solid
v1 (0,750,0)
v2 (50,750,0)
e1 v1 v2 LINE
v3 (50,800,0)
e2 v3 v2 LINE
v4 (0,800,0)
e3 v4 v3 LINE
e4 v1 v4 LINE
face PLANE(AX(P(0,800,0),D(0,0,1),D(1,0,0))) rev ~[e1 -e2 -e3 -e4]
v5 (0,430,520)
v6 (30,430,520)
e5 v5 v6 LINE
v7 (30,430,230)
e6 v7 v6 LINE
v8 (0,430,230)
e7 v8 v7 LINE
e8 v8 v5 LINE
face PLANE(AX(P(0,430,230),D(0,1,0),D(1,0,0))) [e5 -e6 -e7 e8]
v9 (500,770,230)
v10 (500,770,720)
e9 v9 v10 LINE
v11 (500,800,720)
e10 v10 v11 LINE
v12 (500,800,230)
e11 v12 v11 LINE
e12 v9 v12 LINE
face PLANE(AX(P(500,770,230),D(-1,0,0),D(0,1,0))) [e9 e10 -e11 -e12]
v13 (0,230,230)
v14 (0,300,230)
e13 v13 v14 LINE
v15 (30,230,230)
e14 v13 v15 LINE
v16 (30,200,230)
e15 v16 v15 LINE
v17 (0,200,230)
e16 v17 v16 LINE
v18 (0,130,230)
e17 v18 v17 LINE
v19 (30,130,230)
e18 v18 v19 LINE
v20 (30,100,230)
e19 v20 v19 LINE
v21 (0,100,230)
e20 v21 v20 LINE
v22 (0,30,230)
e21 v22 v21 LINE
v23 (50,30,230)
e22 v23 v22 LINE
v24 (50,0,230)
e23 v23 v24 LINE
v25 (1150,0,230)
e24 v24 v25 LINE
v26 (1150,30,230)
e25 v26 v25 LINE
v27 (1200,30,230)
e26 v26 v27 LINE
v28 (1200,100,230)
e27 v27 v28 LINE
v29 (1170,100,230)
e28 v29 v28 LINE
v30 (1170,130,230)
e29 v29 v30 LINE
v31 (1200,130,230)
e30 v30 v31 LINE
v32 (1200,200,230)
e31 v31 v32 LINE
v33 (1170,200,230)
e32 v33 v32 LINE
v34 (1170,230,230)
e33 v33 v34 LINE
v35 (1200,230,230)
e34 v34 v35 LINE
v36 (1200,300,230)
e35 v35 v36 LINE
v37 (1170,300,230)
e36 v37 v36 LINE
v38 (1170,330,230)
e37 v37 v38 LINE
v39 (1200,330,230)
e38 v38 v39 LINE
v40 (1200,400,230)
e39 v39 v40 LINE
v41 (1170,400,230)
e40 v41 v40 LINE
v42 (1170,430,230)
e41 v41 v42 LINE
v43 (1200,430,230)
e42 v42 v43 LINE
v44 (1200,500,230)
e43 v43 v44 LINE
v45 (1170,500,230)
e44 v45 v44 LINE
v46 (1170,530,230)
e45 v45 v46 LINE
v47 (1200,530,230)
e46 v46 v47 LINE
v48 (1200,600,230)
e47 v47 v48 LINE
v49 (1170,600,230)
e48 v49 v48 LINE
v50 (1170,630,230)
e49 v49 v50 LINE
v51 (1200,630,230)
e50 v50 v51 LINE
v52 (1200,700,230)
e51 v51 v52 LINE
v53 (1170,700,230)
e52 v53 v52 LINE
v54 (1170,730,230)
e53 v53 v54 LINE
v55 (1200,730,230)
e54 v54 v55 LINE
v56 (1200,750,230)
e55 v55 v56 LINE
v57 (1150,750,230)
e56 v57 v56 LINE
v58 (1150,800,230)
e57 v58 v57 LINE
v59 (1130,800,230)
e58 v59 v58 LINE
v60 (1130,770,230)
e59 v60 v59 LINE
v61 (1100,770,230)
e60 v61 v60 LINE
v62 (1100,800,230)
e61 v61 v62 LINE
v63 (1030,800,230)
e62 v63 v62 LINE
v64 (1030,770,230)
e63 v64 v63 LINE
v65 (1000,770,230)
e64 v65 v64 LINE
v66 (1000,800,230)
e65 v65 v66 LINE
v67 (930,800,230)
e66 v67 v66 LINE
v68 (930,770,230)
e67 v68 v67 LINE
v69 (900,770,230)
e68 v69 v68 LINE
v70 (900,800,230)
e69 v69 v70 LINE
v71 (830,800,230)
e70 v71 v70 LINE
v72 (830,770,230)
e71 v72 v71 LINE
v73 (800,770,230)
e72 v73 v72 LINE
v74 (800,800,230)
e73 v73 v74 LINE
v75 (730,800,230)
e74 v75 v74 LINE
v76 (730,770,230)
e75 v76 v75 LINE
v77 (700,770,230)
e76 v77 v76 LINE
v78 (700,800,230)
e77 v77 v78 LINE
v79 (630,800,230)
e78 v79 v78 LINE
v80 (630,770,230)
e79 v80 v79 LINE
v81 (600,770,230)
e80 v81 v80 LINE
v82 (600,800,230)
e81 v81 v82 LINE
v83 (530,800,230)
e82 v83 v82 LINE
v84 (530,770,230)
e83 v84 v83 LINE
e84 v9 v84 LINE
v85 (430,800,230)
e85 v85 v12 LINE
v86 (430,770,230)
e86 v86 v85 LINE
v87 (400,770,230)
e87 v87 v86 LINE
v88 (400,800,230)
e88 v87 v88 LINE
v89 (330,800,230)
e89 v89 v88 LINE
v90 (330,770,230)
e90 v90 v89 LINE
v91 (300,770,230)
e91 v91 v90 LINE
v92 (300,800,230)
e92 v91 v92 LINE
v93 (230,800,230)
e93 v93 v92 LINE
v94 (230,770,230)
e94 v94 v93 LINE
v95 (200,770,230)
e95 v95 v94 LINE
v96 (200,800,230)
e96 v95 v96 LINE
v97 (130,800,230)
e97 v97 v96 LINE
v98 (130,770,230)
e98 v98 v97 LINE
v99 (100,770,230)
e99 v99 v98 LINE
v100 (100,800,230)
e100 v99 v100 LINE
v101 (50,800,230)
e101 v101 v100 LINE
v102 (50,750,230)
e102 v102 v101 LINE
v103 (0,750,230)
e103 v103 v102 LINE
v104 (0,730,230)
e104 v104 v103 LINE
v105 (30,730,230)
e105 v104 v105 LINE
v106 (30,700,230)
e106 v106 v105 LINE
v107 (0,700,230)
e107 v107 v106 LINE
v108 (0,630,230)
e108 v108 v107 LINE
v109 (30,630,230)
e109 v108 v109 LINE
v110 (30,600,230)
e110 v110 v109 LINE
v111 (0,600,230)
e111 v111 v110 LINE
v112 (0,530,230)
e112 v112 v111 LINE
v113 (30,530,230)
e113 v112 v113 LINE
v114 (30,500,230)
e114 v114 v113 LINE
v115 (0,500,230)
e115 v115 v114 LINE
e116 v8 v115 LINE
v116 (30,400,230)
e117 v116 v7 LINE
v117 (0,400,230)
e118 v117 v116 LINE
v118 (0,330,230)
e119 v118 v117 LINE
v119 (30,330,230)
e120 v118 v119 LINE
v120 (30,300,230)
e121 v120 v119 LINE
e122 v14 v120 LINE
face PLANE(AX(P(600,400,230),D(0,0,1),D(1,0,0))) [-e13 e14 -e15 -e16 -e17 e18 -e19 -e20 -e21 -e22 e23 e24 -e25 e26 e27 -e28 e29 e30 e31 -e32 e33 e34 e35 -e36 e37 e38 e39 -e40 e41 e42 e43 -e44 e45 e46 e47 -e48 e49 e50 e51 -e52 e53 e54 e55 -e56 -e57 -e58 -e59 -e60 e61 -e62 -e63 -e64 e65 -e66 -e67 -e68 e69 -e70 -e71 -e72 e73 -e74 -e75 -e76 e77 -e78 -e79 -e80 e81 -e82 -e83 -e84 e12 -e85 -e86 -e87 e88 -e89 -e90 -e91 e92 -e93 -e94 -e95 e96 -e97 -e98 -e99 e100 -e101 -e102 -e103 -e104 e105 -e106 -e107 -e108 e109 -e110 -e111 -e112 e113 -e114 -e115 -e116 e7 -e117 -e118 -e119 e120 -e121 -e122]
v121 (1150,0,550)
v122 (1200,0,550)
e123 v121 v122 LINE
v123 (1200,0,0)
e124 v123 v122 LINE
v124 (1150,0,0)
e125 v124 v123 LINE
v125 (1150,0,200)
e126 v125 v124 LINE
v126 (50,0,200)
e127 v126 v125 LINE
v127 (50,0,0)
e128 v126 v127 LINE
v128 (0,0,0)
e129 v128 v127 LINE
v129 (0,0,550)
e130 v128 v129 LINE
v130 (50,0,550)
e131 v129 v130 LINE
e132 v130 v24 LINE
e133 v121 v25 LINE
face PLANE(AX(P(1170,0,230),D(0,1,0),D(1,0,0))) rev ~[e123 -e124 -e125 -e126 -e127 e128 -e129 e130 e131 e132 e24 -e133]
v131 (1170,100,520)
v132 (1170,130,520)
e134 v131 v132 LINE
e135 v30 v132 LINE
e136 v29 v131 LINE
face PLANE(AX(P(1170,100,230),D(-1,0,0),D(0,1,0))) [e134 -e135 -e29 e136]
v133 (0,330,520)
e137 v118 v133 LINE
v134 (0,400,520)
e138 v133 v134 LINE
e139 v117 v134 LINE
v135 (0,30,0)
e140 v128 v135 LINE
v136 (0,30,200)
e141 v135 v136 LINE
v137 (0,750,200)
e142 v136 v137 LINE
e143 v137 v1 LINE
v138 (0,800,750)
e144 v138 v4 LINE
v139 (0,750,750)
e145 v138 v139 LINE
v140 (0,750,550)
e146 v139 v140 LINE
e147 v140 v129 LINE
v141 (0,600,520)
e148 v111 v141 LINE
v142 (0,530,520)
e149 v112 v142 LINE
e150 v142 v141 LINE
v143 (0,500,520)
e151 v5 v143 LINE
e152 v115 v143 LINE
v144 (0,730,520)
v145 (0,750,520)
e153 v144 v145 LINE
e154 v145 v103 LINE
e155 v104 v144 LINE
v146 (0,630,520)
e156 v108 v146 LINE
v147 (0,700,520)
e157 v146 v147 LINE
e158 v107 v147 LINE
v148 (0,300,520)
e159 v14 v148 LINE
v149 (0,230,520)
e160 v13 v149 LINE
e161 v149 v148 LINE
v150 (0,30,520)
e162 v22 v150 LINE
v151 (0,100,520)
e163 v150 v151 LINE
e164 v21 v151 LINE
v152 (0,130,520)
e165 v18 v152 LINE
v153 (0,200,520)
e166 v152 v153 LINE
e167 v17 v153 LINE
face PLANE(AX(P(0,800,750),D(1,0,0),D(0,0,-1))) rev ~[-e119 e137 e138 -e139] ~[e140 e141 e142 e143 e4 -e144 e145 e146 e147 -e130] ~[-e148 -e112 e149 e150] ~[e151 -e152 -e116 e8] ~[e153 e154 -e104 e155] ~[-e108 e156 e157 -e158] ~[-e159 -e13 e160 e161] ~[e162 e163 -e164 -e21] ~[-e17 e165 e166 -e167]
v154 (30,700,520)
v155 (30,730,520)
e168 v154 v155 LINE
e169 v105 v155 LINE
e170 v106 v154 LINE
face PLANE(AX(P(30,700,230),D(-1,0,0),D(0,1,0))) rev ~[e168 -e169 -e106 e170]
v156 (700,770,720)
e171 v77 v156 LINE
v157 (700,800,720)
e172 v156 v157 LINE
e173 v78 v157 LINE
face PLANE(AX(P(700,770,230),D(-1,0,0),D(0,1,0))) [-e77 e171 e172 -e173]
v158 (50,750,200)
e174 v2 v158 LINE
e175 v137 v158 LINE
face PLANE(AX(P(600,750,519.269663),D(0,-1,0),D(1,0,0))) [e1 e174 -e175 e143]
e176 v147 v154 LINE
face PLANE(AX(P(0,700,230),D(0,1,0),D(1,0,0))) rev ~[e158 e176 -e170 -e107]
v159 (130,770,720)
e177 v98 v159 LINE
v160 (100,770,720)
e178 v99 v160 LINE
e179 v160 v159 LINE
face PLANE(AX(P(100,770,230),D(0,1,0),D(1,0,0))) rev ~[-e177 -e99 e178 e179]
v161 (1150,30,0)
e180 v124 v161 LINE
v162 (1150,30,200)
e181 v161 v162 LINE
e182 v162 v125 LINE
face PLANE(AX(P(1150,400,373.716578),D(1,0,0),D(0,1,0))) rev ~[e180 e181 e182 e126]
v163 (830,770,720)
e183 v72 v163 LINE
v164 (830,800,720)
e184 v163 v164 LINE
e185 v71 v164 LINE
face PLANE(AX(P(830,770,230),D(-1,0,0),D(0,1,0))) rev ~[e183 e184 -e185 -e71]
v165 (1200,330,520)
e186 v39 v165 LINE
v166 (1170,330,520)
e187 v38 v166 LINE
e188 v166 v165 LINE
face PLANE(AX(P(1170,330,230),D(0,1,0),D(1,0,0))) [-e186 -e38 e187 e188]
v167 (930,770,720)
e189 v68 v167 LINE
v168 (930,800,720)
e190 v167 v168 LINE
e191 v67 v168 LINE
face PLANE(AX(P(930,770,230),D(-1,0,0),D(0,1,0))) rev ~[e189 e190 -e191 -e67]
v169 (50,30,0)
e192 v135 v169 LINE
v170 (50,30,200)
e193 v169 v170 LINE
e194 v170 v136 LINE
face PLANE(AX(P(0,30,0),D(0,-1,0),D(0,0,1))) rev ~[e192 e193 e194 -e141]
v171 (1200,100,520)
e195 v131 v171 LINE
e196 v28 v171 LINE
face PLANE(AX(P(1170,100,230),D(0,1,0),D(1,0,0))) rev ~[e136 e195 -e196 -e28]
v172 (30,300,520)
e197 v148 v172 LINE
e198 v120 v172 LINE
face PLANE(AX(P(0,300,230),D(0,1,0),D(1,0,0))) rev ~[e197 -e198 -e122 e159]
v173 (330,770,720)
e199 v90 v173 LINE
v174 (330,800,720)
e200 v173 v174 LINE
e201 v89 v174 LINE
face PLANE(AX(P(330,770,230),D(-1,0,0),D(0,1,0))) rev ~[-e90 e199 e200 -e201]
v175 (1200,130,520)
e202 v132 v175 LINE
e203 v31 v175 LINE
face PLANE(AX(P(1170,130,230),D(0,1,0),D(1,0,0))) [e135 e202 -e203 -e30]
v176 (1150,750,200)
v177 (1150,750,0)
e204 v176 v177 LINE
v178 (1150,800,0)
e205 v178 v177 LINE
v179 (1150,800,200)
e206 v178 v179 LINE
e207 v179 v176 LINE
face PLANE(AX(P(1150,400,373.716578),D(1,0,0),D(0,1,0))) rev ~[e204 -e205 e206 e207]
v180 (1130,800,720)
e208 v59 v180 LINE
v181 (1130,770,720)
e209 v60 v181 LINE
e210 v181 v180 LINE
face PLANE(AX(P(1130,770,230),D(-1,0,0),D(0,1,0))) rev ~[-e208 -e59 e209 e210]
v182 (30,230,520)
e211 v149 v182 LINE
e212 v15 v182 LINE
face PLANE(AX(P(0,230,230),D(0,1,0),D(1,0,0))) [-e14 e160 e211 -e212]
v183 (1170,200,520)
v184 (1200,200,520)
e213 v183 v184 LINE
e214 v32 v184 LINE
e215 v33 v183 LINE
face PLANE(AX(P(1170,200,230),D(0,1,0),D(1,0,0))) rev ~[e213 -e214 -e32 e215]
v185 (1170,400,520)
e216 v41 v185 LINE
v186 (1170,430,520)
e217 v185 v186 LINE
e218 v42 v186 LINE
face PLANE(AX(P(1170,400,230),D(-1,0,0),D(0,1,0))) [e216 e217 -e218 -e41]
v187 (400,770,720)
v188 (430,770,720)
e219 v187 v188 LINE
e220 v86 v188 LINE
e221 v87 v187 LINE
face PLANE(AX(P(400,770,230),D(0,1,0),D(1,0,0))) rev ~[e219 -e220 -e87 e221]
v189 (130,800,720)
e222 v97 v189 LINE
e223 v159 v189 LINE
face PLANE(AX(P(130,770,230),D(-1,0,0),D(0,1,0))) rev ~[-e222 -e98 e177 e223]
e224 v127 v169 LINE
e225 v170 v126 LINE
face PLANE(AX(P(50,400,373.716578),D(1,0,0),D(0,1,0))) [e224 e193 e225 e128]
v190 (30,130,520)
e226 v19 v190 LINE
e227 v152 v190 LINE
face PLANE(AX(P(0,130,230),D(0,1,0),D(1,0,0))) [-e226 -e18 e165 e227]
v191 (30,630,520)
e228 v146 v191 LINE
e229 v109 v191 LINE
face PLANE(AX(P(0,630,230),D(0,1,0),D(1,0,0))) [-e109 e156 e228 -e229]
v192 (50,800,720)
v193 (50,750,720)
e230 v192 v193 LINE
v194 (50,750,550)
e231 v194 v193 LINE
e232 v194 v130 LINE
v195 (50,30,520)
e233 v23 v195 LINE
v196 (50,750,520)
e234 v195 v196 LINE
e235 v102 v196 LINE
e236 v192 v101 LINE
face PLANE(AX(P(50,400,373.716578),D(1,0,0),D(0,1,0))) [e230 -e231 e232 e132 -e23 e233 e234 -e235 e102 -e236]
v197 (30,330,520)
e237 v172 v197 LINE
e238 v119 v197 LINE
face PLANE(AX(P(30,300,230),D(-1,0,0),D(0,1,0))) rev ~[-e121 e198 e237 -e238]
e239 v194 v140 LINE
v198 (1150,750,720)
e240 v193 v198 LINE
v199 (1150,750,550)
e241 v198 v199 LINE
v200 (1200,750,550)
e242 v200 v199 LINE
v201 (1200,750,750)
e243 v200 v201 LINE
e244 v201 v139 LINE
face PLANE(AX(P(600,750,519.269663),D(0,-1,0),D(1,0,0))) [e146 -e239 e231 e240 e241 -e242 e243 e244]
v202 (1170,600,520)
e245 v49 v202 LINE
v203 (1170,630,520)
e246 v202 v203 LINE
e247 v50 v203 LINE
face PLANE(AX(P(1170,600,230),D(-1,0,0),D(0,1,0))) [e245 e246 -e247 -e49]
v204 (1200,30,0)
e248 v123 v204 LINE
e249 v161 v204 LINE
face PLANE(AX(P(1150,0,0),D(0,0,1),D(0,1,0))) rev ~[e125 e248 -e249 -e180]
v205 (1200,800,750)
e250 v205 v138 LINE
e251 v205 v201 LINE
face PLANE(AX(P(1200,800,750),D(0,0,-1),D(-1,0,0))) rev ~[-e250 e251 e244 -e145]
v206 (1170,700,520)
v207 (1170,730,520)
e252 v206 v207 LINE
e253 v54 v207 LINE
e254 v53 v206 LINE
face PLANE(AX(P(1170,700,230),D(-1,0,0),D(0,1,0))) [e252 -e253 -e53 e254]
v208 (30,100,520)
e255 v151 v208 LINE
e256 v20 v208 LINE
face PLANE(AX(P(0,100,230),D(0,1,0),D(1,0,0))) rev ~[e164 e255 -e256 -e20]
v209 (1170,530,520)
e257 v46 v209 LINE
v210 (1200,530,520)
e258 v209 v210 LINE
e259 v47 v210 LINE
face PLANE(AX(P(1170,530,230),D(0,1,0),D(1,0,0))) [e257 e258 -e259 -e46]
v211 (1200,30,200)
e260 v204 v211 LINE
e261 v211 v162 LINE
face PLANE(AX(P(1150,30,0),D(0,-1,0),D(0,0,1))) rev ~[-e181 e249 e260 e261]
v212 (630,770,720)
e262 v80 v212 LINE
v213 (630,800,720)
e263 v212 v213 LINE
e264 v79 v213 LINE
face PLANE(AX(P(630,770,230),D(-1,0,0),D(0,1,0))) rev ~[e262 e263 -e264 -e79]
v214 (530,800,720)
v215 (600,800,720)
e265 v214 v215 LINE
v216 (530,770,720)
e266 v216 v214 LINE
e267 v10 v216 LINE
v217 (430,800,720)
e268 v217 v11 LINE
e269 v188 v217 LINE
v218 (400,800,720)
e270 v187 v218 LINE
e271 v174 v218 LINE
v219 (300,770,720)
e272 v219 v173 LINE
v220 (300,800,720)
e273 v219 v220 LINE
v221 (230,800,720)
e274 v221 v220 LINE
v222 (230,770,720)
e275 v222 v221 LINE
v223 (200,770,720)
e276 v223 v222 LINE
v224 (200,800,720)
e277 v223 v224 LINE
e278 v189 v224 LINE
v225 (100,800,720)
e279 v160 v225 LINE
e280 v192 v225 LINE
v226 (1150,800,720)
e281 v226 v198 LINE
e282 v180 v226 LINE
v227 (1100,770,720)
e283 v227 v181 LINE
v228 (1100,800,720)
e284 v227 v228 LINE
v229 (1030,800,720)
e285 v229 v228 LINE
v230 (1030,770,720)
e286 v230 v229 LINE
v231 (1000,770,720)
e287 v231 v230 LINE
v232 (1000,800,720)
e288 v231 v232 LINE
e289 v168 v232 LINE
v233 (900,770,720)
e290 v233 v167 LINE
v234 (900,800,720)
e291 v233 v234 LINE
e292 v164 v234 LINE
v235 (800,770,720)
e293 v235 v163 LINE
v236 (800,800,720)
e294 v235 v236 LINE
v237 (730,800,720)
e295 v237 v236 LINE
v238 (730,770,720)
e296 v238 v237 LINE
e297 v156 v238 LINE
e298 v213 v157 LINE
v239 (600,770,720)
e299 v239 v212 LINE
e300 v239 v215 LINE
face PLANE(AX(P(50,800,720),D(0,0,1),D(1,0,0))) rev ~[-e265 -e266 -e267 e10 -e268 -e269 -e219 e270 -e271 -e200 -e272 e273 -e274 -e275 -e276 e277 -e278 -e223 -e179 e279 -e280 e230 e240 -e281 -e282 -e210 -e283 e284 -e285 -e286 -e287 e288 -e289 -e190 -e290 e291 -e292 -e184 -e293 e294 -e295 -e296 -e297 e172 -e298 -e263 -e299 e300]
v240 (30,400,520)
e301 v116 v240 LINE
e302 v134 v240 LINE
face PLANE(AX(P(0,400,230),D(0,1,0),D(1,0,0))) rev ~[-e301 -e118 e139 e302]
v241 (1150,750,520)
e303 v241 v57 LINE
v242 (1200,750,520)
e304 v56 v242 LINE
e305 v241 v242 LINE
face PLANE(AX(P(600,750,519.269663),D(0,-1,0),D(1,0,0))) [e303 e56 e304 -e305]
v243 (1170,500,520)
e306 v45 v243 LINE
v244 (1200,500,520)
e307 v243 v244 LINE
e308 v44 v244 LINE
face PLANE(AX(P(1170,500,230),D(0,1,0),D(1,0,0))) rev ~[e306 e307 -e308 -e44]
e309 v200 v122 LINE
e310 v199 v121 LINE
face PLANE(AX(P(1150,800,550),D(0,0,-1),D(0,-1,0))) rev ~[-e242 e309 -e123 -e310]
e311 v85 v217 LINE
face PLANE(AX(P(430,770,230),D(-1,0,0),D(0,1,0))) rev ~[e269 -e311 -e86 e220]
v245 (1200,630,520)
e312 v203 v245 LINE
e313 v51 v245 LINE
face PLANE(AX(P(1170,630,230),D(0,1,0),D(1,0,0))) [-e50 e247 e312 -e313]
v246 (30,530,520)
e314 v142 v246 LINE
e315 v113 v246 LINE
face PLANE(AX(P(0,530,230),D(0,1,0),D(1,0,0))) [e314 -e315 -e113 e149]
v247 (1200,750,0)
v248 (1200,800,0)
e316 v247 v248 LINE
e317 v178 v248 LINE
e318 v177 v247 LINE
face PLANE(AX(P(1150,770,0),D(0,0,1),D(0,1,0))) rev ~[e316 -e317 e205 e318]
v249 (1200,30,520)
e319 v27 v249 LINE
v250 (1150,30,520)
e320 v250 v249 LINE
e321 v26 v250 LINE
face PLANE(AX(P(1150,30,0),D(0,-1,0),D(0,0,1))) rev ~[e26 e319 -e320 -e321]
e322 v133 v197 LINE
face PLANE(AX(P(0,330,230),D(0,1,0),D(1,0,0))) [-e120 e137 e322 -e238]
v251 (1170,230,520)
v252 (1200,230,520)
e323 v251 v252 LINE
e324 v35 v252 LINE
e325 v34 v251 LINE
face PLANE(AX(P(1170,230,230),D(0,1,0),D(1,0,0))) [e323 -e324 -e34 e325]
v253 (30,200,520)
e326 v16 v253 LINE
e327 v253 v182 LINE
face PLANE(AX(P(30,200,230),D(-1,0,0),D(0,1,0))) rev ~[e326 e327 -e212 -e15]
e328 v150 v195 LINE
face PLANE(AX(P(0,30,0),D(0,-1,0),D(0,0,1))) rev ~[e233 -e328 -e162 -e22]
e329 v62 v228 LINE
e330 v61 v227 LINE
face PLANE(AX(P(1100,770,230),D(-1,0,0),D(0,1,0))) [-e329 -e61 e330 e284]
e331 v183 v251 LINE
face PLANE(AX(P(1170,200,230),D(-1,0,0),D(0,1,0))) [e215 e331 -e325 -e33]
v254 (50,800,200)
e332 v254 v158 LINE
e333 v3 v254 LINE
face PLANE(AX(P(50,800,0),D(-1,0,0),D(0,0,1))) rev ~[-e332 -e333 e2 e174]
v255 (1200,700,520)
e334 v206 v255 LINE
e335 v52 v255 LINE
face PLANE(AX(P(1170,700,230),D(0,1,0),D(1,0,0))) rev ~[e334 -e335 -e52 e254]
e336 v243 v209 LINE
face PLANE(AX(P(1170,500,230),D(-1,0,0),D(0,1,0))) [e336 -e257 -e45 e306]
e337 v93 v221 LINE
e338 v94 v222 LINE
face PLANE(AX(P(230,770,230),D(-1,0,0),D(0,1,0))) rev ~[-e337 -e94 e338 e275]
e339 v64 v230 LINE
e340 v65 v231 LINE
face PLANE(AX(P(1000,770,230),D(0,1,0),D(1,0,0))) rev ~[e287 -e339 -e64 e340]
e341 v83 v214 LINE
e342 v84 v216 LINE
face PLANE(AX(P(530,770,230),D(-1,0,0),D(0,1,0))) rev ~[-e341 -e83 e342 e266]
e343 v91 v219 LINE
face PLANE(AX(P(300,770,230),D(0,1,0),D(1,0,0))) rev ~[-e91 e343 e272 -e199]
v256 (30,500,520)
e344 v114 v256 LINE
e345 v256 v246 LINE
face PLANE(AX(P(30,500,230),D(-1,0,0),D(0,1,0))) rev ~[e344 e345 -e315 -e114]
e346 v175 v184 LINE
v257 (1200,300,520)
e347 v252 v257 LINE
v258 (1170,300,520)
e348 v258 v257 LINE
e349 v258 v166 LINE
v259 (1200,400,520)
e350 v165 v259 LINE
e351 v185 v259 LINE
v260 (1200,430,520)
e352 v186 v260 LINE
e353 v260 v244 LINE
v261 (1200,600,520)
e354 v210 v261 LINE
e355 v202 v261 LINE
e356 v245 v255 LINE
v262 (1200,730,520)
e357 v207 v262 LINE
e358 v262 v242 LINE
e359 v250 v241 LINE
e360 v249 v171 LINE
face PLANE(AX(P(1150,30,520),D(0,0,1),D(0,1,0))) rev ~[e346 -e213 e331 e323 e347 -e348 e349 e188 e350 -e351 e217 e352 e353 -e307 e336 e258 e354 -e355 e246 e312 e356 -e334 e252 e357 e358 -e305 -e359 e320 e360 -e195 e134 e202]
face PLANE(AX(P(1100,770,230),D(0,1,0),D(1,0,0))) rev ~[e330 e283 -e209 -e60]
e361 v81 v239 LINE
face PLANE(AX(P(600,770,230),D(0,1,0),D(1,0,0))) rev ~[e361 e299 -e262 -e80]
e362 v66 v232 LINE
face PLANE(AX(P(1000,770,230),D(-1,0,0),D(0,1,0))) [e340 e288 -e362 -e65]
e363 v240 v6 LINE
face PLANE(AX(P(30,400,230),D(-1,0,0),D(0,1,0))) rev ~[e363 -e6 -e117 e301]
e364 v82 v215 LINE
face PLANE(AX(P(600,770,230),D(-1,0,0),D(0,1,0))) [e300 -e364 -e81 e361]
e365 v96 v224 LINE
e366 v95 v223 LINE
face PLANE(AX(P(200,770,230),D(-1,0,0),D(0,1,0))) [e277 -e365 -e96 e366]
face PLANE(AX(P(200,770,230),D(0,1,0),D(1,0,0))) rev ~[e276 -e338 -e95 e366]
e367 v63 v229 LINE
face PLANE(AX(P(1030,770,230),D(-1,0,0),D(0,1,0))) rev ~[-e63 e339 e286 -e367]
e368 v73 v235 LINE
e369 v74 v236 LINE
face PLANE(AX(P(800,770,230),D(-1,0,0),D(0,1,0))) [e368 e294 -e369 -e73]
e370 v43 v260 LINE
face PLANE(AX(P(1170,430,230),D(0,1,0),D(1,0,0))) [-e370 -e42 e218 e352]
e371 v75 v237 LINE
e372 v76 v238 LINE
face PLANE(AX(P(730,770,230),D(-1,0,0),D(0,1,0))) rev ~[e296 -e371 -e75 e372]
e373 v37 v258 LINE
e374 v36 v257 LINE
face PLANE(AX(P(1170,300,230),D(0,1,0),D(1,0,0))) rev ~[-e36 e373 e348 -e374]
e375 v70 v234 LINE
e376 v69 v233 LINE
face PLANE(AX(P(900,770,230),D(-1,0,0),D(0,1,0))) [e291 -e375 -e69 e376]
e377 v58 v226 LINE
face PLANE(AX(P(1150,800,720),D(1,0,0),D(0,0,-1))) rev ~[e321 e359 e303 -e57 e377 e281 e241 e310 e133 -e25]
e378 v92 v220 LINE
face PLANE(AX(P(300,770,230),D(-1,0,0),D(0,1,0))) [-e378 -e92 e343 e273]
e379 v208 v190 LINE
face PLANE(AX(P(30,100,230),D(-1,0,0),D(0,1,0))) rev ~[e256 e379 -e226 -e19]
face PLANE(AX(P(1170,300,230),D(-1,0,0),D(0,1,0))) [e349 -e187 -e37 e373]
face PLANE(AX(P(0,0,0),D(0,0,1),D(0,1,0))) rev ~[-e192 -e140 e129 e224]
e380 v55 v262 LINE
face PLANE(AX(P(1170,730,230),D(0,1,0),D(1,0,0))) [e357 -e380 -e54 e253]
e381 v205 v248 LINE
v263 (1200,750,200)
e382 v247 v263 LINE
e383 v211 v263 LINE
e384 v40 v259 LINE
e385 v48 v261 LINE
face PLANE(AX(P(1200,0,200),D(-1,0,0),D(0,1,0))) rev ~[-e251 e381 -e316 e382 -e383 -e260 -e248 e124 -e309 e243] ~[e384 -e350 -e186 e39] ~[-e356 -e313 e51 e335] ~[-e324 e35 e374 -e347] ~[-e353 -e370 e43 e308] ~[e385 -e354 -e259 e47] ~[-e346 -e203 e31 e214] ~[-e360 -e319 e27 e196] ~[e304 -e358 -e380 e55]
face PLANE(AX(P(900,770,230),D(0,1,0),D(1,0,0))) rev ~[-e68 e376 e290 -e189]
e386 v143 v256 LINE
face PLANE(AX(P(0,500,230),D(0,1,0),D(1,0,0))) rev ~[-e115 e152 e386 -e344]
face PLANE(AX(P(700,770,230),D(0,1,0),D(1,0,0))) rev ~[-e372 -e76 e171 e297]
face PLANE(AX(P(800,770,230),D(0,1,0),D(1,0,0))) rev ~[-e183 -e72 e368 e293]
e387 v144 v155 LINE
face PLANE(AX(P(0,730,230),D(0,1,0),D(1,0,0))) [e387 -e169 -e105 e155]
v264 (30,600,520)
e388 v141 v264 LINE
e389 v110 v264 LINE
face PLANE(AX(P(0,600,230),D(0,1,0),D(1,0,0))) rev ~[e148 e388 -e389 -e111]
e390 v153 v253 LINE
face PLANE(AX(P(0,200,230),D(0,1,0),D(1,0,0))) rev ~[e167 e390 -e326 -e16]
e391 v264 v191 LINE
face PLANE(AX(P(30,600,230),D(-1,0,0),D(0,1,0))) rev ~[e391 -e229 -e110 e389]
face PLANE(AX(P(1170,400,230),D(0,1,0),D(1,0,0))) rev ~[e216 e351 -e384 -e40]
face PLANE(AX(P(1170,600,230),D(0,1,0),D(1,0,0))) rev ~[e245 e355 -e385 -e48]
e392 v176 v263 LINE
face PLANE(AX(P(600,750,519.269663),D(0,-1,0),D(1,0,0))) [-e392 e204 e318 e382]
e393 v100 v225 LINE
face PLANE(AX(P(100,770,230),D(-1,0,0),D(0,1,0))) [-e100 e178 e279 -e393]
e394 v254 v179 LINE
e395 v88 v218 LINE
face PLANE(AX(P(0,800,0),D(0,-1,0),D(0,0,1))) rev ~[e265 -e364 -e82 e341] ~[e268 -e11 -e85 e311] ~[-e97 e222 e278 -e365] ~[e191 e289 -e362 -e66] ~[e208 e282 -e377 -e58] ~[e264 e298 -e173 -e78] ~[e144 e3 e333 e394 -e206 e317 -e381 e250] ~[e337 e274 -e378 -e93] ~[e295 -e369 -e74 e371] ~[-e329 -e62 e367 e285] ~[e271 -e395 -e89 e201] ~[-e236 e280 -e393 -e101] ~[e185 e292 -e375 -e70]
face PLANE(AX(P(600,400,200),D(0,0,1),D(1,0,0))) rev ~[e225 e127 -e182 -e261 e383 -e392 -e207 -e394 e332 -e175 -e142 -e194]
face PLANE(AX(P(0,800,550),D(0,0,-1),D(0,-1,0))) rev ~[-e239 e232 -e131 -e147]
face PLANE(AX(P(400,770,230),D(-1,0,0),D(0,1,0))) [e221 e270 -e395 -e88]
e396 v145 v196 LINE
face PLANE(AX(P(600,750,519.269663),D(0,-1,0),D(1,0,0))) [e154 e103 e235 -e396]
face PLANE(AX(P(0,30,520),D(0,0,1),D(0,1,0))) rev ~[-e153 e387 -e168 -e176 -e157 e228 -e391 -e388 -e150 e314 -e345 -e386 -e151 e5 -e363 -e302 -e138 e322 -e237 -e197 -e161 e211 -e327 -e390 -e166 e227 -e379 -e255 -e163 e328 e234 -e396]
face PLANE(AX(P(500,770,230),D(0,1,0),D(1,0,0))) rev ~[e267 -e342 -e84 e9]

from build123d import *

# Parameters (mm, degrees)
EXTRUDE_DEPTH    = 50
SKETCH001_W      = 1200
SKETCH001_H      = 800
EXTRUDE001_DEPTH = 30
EXTRUDE002_DEPTH = 50
SKETCH003_W      = 30
SKETCH003_H      = 30
EXTRUDE003_DEPTH = 290
ARRAY_Y_COUNT    = 8
ARRAY_Y_PITCH    = 100
EXTRUDE004_DEPTH = 490
ARRAY001_X_COUNT = 12
ARRAY001_X_PITCH = 100


with BuildPart() as extrude_body:
    # Sketch → Extrude (new body)
    with BuildSketch(Plane.YZ):
        Polygon((0, 0), (30, 0), (30, 520), (770, 520), (770, 0), (800, 0), (800, 550), (0, 550), align=None)
    extrude(amount=EXTRUDE_DEPTH)


with BuildPart() as extrude004:
    # Sketch001 → Extrude001 (new body)
    with BuildSketch(Plane.XY):
        with Locations((600, 400)):
            Rectangle(SKETCH001_W, SKETCH001_H)
    extrude(amount=EXTRUDE001_DEPTH)


with BuildPart() as extrude004_1:
    # Extrude001 placement: moved
    add(extrude004.part.moved(Location((0, 0, 200))))


with BuildPart() as extrude002:
    # Sketch002 → Extrude002 (new body)
    with BuildSketch(Plane.XZ):
        Polygon((0, 0), (50, 0), (50, 720), (1150, 720), (1150, 0), (1200, 0), (1200, 750), (0, 750), align=None)
    extrude(amount=EXTRUDE002_DEPTH)


with BuildPart() as extrude002_1:
    # Extrude002 placement: moved
    add(extrude002.part.moved(Location((0, 800, 0))))


with BuildPart() as array:
    # Sketch003 → Extrude003 (new body)
    with BuildSketch(Plane.XY):
        with Locations((15, 15)):
            Rectangle(SKETCH003_W, SKETCH003_H)
    extrude(amount=EXTRUDE003_DEPTH)

    # Array Y: Array ×8


with BuildPart() as array_1:
    add(array.part)
    with Locations(*[(0, i * ARRAY_Y_PITCH, 0) for i in range(1, ARRAY_Y_COUNT)]):
        add(array.part)


with BuildPart() as array_2:
    # Array placement: moved
    add(array_1.part.moved(Location((0, 0, 230))))


with BuildPart() as array001:
    # Clone001 base: copy of Array
    add(array_2.part)


with BuildPart() as array001_1:
    # Clone001 placement: moved
    add(array001.part.moved(Location((1170, 0, 0))))


with BuildPart() as array002:
    # Sketch003 → Extrude004 (new body)
    with BuildSketch(Plane.XY):
        with Locations((15, 15)):
            Rectangle(SKETCH003_W, SKETCH003_H)
    extrude(amount=EXTRUDE004_DEPTH)

    # Array001 X: Array002 ×12


with BuildPart() as array002_1:
    add(array002.part)
    with Locations(*[(i * ARRAY001_X_PITCH, 0, 0) for i in range(1, ARRAY001_X_COUNT)]):
        add(array002.part)


with BuildPart() as array002_2:
    # Array001 placement: moved
    add(array002_1.part.moved(Location((0, 770, 230))))


with BuildPart() as fusion:
    # Clone base: copy of Extrude body
    add(extrude_body.part)


with BuildPart() as fusion_1:
    # Clone placement: moved
    add(fusion.part.moved(Location((1150, 0, 0))))

    # Fusion: union Extrude body, Extrude004, Extrude002, Array, Array001, Array002
    add(extrude_body.part)
    add(extrude004_1.part)
    add(extrude002_1.part)
    add(array_2.part)
    add(array001_1.part)
    add(array002_2.part)


solid = fusion_1.part
